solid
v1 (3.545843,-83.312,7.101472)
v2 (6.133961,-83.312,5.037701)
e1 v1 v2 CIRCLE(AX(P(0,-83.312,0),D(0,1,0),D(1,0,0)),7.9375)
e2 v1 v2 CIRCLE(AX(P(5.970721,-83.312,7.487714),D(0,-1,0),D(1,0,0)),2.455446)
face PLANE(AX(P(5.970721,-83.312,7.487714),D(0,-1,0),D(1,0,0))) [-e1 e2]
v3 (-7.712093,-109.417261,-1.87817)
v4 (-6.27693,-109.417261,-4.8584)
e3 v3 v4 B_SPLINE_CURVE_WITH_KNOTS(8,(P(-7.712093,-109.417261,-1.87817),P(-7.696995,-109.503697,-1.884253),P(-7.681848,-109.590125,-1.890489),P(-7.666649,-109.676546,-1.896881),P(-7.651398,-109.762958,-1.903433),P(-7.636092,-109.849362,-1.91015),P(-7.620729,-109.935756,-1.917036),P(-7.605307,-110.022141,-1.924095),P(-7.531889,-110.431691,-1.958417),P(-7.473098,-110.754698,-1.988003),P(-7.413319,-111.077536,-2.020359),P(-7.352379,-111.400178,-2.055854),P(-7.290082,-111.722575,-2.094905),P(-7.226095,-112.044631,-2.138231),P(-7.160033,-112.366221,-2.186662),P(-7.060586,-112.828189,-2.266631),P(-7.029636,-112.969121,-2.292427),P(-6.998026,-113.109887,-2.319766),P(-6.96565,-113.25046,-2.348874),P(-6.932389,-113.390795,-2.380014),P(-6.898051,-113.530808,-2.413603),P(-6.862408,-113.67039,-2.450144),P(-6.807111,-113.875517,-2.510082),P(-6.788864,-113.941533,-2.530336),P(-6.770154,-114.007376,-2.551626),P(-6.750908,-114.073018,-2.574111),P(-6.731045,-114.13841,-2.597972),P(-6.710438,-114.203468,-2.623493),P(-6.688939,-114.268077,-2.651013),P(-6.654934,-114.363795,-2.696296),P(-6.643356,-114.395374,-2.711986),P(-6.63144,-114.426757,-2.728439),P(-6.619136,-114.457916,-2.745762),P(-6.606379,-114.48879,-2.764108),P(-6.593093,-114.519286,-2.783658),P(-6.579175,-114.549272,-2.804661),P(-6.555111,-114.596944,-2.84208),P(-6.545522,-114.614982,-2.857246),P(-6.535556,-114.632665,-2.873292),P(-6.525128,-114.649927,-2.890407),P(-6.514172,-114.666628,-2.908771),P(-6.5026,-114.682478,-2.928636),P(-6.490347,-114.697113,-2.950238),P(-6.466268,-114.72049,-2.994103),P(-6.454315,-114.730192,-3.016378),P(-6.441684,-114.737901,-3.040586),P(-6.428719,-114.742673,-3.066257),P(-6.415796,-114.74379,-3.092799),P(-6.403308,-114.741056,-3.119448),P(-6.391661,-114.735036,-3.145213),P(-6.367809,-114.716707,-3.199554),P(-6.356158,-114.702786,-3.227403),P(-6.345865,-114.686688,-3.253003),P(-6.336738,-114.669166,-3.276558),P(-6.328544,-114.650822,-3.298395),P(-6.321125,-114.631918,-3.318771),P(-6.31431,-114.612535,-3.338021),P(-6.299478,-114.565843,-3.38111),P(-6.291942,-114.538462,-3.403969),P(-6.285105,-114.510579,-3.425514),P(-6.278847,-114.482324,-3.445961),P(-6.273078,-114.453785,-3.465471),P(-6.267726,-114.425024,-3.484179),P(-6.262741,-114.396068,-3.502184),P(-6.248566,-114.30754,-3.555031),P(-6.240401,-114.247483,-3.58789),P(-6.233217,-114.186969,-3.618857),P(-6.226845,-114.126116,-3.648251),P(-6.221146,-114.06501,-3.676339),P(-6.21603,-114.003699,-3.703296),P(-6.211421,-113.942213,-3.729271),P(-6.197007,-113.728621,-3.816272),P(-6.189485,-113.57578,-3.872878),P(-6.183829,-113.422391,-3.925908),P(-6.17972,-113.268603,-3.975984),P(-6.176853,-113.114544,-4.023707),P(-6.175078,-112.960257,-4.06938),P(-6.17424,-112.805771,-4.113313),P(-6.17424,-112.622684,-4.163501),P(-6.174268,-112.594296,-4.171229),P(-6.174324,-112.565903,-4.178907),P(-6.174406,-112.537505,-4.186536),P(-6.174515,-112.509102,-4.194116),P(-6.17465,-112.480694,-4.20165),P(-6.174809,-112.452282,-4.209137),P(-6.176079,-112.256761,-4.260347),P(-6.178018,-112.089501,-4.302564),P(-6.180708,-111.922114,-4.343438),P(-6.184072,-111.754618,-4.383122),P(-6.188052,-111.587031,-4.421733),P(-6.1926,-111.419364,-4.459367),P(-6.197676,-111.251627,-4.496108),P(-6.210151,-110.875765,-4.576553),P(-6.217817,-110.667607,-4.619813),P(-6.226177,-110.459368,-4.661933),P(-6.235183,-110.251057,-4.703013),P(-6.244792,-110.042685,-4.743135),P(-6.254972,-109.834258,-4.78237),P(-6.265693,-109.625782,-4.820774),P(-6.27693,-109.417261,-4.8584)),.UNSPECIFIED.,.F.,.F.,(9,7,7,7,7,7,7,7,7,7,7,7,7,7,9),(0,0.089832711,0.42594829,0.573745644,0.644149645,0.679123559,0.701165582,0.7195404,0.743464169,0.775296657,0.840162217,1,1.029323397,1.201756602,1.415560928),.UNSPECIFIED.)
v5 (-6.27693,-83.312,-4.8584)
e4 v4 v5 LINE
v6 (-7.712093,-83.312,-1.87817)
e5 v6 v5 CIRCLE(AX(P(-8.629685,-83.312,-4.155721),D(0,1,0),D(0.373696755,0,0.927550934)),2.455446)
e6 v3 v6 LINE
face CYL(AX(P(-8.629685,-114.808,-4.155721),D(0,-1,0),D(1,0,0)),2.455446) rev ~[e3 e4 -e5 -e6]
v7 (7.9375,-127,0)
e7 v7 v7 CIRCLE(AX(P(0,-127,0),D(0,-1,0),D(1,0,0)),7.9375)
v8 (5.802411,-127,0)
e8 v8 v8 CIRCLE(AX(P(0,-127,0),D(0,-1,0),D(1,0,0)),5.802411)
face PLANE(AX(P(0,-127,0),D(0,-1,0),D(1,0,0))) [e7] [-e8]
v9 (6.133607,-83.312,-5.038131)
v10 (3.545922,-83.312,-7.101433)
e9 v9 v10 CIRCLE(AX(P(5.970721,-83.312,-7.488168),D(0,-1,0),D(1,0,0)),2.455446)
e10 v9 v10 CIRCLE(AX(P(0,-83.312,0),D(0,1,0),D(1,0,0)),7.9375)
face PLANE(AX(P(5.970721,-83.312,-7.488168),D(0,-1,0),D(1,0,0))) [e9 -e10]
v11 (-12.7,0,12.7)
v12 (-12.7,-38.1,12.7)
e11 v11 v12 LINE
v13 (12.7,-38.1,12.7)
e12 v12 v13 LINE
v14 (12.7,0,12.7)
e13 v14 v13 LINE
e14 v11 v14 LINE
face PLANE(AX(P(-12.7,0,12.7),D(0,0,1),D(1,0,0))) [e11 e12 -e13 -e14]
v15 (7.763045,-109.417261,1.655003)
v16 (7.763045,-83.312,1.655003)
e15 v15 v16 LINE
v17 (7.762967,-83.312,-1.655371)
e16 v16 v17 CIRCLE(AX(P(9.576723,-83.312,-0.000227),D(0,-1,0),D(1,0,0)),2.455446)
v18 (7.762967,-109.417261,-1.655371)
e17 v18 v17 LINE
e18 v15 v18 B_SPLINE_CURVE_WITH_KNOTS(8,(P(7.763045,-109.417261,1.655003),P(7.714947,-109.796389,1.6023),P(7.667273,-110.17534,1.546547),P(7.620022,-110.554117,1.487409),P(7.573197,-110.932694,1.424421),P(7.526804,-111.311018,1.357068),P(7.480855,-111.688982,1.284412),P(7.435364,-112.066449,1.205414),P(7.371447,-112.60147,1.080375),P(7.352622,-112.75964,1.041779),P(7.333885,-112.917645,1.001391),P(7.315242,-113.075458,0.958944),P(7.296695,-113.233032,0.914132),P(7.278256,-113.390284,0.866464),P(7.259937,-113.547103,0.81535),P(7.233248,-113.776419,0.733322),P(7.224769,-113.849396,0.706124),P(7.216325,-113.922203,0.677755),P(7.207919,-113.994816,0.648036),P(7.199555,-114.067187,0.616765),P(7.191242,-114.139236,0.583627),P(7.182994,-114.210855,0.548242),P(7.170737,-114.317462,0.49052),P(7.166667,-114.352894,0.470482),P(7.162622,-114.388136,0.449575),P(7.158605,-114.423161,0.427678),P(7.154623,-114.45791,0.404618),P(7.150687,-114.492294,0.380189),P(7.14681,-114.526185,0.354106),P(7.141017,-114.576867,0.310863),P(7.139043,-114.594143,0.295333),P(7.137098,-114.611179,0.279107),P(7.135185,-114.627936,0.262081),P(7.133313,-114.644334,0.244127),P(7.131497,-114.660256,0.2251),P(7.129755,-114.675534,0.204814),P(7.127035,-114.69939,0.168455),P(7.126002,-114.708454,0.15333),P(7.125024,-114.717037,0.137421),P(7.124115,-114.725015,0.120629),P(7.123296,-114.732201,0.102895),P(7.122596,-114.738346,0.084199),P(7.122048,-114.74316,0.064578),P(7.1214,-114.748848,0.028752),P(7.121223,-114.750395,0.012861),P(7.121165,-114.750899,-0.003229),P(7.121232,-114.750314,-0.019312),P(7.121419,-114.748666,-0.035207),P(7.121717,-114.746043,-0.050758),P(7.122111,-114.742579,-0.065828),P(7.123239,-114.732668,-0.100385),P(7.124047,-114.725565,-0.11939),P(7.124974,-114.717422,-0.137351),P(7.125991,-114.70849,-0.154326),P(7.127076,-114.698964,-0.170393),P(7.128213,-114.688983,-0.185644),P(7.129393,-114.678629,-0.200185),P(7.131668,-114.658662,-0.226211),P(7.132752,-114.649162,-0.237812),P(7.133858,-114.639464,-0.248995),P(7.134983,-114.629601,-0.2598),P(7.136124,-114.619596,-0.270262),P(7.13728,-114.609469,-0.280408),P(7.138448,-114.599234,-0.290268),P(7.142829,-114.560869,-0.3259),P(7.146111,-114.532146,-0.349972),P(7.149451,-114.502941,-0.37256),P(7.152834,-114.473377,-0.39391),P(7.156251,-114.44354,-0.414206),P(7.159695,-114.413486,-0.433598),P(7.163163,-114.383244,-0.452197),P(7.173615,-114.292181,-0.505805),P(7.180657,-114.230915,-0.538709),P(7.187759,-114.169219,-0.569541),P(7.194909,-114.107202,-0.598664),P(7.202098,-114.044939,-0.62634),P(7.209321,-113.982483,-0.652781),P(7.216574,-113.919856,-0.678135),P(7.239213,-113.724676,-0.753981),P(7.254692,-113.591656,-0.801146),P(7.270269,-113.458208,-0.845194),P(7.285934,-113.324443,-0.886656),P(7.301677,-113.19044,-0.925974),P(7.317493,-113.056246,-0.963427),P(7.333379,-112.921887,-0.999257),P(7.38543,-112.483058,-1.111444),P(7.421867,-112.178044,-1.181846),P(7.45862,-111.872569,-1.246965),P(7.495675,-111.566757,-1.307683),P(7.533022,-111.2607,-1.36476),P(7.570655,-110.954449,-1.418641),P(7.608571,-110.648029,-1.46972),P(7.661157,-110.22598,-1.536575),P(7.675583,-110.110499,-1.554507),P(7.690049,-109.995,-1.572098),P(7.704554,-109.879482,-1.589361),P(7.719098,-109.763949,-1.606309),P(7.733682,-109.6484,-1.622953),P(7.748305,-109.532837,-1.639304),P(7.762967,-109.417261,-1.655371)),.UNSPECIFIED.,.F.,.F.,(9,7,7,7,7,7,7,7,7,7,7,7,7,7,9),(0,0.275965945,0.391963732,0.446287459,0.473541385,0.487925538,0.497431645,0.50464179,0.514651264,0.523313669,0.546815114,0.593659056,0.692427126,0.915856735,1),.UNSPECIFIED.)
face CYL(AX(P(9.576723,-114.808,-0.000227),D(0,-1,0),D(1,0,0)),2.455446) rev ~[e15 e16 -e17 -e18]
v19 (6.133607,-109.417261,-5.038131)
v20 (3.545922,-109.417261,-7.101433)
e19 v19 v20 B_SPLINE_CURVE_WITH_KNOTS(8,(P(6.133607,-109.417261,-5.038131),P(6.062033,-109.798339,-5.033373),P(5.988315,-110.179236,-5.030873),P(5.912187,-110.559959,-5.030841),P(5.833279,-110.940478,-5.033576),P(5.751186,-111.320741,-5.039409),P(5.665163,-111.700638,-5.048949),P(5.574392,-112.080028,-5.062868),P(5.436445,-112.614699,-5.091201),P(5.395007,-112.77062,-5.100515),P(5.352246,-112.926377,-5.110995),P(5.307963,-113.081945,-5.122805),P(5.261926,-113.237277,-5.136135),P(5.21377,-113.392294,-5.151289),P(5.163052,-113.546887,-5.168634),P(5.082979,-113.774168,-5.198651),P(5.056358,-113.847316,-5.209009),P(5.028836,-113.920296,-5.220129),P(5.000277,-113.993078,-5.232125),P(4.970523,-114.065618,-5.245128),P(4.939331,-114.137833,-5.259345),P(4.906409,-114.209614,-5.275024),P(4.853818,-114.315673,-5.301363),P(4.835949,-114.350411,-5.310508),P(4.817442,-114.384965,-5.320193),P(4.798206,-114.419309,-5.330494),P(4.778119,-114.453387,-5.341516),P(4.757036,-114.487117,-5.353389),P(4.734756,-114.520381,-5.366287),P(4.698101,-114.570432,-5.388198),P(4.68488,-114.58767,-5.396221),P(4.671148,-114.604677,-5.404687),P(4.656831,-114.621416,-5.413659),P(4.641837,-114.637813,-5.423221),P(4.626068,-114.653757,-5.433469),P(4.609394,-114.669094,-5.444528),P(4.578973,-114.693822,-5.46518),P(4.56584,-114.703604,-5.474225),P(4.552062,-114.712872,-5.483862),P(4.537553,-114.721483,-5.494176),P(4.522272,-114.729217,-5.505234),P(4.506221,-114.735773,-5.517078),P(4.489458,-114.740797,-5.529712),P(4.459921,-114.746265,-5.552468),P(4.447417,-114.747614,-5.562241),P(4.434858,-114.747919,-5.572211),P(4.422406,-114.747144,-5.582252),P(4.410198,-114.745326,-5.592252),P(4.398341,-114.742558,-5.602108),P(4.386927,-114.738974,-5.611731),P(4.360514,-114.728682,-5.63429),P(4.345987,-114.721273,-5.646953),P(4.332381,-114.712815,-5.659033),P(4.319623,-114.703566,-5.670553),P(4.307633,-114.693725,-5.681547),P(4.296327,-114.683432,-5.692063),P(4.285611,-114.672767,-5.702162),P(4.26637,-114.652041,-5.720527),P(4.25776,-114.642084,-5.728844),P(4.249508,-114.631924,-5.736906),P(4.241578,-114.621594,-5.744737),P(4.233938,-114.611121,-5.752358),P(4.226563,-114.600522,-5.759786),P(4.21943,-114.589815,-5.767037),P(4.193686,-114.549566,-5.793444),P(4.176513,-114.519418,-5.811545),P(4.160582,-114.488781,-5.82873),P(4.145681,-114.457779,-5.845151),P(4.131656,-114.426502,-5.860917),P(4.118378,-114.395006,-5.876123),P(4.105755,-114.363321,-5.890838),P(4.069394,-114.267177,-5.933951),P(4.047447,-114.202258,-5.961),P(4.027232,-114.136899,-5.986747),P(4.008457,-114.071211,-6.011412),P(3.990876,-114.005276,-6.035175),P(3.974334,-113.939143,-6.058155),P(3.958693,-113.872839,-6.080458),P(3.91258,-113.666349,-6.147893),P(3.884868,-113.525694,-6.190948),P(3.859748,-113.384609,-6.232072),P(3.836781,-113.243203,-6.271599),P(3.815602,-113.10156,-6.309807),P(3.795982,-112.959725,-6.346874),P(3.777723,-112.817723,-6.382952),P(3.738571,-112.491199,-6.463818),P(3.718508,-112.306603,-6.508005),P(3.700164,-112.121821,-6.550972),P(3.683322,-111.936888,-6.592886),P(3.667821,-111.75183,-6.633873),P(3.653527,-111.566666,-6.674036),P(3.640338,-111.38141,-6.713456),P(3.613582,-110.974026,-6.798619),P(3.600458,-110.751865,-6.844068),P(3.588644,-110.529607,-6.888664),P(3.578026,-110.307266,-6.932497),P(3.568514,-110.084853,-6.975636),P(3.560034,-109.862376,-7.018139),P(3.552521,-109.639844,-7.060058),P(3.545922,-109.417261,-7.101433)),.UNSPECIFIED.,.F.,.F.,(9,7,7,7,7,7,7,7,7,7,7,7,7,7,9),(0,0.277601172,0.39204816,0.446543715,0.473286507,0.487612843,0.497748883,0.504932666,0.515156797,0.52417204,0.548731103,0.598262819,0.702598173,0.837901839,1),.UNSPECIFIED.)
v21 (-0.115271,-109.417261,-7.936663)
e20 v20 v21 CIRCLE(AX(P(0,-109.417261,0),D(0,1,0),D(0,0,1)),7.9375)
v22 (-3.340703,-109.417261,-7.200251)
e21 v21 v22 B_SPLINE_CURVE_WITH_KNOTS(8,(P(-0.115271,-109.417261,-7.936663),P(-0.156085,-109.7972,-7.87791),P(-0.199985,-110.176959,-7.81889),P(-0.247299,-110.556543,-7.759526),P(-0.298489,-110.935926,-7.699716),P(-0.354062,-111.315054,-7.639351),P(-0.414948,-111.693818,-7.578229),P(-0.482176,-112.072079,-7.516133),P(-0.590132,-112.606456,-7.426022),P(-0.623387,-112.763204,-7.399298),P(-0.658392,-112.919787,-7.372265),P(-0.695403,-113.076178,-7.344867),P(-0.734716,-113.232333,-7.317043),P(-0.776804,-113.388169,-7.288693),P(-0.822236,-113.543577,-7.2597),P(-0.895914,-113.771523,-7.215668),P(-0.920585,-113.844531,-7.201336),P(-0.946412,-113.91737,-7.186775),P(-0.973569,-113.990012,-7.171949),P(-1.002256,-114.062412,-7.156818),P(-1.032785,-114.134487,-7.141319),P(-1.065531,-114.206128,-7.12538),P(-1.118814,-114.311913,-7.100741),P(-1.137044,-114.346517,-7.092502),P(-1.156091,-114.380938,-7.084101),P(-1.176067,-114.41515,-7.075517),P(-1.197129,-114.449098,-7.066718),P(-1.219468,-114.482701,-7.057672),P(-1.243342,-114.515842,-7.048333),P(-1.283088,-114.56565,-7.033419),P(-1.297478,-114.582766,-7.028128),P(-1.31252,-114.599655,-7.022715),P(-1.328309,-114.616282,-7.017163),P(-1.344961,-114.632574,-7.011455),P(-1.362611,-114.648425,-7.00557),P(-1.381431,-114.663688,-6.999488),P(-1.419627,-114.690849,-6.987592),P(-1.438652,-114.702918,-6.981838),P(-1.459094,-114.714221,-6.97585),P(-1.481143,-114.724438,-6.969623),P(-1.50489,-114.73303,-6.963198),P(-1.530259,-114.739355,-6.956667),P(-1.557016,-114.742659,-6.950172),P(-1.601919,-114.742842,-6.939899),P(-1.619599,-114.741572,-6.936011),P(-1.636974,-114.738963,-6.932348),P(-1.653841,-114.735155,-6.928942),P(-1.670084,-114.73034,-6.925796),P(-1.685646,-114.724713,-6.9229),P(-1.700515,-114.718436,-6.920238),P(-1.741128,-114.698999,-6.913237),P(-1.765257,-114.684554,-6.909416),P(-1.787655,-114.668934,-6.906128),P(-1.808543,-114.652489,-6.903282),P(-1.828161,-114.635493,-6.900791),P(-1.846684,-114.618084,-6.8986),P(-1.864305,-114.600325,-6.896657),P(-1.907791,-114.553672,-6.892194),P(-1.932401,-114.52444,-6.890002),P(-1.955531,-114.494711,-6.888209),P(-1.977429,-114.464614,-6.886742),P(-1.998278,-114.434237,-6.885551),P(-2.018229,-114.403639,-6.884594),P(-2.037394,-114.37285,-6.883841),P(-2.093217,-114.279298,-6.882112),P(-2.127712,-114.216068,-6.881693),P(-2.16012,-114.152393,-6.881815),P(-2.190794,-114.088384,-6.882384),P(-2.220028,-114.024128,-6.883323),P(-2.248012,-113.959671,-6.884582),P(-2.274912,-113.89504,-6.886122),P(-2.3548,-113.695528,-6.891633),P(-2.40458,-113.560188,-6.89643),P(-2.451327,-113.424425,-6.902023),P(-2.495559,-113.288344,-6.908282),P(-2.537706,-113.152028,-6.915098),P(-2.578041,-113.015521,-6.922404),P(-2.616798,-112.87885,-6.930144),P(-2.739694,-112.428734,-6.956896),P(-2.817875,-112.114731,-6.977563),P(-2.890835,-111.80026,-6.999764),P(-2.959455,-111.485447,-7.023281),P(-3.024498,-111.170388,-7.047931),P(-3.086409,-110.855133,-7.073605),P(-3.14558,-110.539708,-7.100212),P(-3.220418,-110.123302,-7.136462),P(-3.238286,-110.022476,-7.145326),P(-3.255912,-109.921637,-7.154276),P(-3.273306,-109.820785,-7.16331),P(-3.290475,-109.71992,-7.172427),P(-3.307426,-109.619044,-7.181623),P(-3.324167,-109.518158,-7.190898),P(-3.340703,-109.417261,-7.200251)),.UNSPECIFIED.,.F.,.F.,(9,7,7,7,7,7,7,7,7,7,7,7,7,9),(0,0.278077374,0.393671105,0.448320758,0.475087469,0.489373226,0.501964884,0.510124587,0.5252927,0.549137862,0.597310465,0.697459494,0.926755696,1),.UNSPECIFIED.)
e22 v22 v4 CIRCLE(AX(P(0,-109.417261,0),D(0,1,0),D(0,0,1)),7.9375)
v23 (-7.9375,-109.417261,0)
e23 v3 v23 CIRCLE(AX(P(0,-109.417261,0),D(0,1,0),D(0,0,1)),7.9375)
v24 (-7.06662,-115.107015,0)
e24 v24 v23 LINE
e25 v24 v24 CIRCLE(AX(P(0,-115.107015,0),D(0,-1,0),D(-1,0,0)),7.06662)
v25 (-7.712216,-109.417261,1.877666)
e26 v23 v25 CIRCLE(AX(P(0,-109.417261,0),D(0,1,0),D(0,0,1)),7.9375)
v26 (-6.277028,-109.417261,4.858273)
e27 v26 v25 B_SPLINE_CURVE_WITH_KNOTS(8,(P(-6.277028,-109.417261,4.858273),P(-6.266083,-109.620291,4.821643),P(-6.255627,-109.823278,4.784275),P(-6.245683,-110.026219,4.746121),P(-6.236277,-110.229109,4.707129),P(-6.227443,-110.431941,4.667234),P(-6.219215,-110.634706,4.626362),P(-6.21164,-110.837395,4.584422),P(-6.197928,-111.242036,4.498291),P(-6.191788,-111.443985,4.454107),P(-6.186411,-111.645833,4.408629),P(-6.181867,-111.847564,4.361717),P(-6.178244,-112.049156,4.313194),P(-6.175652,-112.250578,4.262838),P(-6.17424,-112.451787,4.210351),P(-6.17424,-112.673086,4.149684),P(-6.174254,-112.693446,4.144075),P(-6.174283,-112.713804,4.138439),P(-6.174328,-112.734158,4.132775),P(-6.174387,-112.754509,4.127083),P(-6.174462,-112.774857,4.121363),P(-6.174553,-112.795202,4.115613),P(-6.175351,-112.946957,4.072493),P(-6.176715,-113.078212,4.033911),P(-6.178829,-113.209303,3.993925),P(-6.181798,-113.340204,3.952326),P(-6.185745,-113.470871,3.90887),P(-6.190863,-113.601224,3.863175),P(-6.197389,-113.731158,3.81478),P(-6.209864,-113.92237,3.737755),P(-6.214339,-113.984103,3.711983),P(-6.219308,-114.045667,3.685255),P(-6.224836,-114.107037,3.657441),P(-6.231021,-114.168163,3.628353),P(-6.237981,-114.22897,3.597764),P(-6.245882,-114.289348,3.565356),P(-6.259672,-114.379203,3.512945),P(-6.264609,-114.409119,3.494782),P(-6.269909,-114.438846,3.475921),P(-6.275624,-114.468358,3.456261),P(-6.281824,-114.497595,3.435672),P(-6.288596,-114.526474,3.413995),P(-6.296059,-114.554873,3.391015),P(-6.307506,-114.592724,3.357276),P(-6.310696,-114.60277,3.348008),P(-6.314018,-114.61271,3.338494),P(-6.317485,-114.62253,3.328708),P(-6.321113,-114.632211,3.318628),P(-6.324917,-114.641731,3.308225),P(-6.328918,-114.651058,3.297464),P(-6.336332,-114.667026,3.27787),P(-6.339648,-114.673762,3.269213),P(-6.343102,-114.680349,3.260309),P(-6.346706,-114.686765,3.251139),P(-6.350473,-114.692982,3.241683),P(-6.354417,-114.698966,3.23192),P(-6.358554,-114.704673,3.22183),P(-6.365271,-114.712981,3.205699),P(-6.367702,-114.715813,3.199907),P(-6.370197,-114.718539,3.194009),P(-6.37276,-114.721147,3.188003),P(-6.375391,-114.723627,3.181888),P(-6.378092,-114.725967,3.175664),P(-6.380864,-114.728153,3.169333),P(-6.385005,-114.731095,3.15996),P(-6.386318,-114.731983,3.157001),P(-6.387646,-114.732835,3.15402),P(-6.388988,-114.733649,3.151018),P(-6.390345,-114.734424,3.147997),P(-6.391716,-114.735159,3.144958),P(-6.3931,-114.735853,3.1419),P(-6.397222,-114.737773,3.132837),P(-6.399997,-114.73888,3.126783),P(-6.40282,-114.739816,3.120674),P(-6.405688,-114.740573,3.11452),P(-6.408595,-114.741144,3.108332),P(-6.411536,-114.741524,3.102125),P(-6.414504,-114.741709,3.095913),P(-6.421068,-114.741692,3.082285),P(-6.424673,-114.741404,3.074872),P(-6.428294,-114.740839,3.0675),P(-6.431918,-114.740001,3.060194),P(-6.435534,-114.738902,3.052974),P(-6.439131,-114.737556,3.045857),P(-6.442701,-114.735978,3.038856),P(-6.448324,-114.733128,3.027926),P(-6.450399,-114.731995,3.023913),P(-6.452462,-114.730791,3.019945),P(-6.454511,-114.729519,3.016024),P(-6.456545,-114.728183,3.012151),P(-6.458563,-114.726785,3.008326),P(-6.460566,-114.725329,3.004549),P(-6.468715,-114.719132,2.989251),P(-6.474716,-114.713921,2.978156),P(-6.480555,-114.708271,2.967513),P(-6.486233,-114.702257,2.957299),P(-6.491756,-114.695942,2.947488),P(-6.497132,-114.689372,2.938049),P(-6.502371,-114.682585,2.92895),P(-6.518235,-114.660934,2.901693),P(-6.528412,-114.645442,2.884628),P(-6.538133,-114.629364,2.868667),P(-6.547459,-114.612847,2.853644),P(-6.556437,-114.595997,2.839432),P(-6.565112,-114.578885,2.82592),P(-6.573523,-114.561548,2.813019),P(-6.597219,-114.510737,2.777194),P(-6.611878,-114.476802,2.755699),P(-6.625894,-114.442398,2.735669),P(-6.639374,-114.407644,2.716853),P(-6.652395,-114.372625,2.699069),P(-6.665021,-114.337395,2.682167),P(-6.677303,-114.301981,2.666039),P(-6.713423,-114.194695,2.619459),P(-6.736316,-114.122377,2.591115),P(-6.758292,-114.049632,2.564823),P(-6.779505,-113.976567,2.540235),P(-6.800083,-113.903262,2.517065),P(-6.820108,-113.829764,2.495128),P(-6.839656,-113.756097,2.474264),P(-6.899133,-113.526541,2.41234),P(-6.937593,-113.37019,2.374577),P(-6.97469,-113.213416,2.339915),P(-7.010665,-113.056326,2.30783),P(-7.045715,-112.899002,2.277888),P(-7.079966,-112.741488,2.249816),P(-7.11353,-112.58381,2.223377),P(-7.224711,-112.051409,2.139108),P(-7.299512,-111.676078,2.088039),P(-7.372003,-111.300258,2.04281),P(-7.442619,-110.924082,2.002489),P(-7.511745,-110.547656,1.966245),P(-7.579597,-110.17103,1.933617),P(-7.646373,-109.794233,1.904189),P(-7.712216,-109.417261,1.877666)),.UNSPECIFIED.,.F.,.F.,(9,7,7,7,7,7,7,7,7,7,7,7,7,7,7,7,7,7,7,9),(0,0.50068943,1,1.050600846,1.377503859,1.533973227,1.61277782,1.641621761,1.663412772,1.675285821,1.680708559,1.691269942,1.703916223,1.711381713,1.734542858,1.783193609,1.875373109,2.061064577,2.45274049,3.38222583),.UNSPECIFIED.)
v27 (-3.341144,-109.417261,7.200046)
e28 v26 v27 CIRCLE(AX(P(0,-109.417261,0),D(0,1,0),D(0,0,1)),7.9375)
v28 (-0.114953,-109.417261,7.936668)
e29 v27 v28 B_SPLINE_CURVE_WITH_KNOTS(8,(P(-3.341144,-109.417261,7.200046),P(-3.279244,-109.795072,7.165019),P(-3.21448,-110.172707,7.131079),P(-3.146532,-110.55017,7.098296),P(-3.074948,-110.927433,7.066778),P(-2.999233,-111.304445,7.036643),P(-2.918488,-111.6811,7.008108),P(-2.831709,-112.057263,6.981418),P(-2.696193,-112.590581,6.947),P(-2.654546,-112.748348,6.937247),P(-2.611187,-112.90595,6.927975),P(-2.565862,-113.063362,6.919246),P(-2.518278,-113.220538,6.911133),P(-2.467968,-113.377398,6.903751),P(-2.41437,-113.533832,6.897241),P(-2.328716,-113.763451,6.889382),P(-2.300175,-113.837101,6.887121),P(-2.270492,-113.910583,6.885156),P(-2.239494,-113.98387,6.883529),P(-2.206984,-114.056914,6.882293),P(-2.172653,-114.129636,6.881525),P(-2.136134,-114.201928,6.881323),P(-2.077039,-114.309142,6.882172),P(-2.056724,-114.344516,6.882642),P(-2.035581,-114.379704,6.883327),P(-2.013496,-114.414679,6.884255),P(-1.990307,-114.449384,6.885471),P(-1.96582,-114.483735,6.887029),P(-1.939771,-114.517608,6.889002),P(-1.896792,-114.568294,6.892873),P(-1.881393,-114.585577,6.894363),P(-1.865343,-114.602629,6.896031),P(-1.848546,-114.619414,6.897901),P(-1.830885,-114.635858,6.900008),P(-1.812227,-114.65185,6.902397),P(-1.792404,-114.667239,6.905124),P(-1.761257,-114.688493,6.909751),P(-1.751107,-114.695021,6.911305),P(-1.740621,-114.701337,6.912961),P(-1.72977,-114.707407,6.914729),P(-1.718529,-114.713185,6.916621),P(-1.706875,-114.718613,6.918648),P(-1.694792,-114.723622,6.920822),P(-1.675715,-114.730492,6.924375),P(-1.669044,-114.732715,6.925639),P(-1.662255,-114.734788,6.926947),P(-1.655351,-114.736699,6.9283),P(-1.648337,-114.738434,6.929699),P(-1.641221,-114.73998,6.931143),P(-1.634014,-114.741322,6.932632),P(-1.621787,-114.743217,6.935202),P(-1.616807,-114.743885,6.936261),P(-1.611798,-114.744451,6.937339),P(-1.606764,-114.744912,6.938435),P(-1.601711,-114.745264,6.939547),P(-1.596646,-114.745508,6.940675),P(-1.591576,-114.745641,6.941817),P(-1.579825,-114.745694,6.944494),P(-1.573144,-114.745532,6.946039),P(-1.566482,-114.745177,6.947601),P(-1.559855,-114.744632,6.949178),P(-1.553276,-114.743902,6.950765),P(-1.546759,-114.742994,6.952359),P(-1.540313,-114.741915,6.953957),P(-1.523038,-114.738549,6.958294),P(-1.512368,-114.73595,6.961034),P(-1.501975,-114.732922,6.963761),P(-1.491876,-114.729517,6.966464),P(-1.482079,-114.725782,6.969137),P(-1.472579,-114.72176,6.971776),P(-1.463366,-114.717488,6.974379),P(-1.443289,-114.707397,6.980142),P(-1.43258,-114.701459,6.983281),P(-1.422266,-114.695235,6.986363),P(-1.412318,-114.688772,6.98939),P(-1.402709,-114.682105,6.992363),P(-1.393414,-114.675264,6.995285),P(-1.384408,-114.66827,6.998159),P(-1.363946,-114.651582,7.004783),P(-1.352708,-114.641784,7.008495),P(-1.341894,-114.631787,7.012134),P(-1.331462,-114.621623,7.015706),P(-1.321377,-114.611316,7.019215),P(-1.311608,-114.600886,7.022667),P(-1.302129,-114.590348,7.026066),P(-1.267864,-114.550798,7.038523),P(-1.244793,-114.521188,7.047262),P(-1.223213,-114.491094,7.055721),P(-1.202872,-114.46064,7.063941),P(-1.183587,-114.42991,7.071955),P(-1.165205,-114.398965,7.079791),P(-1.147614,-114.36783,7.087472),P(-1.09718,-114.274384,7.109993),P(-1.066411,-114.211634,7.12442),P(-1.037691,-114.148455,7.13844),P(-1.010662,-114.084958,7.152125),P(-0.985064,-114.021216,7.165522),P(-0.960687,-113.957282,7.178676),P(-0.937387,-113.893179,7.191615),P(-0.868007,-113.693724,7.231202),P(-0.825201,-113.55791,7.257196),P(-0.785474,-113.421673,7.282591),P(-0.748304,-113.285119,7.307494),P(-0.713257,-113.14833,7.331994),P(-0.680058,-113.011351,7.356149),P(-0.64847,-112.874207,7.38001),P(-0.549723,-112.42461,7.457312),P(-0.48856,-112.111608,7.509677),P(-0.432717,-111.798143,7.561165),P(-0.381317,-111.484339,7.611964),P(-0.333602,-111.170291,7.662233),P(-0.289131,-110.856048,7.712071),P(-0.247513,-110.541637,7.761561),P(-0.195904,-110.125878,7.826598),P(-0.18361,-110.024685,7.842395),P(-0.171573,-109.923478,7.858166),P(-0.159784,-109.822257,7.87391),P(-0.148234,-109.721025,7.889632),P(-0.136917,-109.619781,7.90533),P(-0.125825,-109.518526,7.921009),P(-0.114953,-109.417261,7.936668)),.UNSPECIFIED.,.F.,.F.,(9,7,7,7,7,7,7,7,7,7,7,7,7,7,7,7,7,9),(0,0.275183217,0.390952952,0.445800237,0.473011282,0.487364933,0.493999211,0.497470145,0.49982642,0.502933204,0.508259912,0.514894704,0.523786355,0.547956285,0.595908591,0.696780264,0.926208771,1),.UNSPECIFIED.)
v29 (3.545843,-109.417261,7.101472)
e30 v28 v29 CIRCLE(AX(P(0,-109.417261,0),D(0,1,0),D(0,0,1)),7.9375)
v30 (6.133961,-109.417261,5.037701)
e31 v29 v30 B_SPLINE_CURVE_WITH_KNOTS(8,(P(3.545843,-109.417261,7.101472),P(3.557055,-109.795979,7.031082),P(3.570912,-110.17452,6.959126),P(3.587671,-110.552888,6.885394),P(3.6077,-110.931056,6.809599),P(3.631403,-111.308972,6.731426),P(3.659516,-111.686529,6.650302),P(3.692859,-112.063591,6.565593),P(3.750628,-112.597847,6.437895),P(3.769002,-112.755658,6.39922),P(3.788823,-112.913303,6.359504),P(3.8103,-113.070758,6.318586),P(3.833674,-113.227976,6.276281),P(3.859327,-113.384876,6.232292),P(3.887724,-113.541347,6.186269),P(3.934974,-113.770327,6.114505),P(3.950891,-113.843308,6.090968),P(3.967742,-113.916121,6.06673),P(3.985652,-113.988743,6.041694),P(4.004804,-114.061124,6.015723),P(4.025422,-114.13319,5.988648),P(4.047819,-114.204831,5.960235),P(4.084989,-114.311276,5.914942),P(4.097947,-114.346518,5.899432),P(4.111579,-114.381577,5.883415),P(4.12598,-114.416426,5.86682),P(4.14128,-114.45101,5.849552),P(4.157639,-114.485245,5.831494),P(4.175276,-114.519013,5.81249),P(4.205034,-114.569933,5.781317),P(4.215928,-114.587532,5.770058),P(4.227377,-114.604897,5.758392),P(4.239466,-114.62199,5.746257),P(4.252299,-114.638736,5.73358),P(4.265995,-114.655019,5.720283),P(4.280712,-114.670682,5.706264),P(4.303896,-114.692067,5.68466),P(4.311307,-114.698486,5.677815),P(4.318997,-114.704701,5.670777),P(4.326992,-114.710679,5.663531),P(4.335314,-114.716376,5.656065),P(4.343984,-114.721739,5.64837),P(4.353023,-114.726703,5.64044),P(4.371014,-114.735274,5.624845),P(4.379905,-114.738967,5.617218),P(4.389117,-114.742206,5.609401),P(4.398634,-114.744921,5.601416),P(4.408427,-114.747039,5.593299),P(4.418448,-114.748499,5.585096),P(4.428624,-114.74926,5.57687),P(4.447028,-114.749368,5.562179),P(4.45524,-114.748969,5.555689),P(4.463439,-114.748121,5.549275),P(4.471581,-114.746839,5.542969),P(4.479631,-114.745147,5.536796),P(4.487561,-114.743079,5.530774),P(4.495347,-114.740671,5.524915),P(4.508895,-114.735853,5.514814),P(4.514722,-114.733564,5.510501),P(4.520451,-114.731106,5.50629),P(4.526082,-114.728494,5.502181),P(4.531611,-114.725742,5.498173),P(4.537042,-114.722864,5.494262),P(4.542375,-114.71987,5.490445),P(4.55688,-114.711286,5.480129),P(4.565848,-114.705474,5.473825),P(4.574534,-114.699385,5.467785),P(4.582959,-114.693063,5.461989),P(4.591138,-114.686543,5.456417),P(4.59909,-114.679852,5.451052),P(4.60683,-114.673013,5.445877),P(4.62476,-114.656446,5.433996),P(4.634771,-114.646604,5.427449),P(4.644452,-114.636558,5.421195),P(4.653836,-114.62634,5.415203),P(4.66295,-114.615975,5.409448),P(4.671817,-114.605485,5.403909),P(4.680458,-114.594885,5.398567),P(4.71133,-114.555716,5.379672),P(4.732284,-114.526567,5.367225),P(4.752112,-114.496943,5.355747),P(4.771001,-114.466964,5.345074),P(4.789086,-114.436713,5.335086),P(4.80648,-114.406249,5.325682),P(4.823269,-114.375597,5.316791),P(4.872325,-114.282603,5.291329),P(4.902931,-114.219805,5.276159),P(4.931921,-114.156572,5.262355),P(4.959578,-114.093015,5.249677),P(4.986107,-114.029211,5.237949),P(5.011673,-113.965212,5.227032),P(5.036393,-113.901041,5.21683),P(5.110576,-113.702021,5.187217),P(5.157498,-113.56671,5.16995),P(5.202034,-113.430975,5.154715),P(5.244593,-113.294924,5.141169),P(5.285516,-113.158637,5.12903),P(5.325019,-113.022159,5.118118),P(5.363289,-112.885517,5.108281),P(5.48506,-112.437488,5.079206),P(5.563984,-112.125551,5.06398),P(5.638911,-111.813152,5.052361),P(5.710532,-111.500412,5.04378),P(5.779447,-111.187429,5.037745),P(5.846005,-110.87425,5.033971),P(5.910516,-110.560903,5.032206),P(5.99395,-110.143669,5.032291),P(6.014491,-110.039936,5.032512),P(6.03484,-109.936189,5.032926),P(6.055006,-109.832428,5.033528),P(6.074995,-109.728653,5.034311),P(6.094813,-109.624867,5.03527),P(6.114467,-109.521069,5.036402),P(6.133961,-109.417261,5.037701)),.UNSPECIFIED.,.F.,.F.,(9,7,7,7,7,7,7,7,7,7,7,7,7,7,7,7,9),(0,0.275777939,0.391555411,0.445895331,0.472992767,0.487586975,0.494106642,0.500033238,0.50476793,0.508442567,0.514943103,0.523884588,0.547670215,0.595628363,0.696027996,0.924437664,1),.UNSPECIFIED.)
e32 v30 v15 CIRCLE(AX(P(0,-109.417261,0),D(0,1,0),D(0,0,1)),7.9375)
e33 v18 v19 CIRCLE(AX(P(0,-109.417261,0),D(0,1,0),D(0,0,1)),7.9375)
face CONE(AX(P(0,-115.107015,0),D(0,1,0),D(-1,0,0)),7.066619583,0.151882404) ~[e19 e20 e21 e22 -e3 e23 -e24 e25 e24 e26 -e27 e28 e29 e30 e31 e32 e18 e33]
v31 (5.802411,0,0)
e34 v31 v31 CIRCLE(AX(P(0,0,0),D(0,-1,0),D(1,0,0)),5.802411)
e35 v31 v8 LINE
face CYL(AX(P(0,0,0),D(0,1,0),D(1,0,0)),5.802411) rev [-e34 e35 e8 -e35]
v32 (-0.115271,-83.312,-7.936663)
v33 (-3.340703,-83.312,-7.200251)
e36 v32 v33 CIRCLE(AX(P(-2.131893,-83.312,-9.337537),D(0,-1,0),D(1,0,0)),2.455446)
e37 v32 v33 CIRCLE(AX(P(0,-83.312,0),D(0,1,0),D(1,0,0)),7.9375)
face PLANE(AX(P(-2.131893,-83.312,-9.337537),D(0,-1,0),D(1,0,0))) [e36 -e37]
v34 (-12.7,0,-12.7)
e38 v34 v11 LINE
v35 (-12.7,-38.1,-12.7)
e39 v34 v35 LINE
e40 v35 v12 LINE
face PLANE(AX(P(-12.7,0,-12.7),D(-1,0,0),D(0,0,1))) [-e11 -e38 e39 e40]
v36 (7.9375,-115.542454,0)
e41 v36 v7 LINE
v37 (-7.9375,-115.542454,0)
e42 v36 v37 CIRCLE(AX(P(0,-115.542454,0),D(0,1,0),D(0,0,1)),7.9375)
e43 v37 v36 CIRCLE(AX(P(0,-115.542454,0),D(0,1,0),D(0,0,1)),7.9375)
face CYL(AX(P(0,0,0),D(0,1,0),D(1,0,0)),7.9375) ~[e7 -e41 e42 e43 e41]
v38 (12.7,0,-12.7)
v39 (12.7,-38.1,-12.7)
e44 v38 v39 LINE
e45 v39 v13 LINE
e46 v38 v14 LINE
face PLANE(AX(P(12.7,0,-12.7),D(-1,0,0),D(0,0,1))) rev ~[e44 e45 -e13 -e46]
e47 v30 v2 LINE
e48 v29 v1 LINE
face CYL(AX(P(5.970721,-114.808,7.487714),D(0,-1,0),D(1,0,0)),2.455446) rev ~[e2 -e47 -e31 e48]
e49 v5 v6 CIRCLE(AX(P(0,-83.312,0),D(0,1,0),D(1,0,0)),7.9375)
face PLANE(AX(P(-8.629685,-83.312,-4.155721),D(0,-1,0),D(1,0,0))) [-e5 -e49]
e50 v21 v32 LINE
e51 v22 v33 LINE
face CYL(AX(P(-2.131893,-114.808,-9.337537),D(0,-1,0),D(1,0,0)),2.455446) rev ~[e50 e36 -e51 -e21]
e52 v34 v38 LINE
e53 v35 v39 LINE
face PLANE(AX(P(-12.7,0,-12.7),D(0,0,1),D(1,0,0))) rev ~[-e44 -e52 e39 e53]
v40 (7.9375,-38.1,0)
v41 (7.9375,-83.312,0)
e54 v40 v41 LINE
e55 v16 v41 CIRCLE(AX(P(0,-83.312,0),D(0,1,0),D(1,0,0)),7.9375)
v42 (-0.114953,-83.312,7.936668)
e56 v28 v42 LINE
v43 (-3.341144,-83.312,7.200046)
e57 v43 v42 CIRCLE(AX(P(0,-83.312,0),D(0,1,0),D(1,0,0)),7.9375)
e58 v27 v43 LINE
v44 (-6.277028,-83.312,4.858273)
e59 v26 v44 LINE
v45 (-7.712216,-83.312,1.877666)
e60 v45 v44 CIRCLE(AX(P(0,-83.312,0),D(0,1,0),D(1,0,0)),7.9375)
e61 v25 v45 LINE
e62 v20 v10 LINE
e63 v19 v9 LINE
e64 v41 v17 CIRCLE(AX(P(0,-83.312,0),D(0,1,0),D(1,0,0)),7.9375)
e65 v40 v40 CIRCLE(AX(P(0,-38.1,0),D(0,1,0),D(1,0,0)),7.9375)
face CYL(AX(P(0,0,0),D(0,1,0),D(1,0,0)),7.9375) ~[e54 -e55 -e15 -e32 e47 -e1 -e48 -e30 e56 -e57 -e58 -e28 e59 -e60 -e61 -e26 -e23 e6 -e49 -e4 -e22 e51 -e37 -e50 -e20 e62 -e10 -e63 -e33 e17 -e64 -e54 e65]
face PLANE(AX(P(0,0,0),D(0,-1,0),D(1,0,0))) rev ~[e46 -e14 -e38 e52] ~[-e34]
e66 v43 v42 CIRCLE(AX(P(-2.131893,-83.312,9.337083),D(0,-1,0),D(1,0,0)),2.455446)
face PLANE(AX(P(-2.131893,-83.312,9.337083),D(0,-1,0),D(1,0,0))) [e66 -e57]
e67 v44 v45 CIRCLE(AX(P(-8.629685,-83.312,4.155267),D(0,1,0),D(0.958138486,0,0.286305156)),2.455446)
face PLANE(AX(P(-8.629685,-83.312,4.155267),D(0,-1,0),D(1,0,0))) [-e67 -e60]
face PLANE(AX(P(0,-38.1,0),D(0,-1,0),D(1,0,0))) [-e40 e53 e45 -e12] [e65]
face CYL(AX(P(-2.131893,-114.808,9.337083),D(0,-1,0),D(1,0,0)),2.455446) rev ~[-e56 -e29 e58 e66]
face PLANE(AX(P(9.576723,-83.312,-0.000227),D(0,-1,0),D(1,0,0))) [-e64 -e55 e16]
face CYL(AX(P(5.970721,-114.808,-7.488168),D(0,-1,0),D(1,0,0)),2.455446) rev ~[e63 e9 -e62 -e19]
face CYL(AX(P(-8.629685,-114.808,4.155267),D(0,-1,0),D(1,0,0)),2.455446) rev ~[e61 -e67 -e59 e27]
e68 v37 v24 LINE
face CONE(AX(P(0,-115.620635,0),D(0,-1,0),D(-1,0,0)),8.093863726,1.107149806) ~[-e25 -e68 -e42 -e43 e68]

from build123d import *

# Parameters (mm, degrees)
F0_W     = 25.4
F0_H     = 25.4
F0_R     = 7.9375
F0_R_2   = 5.8024107256
F1_DEPTH = 38.1
F2_DEPTH = 127
F6_START = -12.192
F5_R     = 2.4554456834
F6_DEPTH = 31.496


with BuildPart() as f1:
    # F0 (on Front) → F1 (new body)
    with BuildSketch(Plane.XZ):
        Rectangle(F0_W, F0_H)
        Circle(F0_R, mode=Mode.SUBTRACT)
        Circle(F0_R)
        Circle(F0_R_2, mode=Mode.SUBTRACT)
    extrude(amount=F1_DEPTH)

    # F0 (on Front) → F2 (join)
    with BuildSketch(Plane.XZ):
        Circle(F0_R)
        Circle(F0_R_2, mode=Mode.SUBTRACT)
    extrude(amount=F2_DEPTH)

    # F3 (on Top) → F4 (revolve, cut)
    with BuildSketch(Plane.XY):
        Polygon((-8.0296611413, -108.8151410222), (-8.0938637257, -115.6206354499), (-7.0666195825, -115.1070147753), align=None)
    revolve(axis=Axis((0, 0, 0), (0, -1, 0)), mode=Mode.SUBTRACT)

    # F5 (on face) → F6 (cut)
    with BuildSketch(Plane.XZ.offset(127).offset(F6_START)):
        with Locations((9.5767229945, -0.0002272034)):
            Circle(F5_R)
        with Locations((5.9707205281, 7.487714074)):
            Circle(F5_R)
        with Locations((-2.1318934647, 9.3370828434)):
            Circle(F5_R)
        with Locations((-8.6296853842, 4.1552667011)):
            Circle(F5_R)
        with Locations((-8.6296853842, -4.155721108)):
            Circle(F5_R)
        with Locations((-2.1318934647, -9.3375372503)):
            Circle(F5_R)
        with Locations((5.9707205281, -7.4881684809)):
            Circle(F5_R)
    extrude(amount=-F6_DEPTH, mode=Mode.SUBTRACT)


solid = f1.part
